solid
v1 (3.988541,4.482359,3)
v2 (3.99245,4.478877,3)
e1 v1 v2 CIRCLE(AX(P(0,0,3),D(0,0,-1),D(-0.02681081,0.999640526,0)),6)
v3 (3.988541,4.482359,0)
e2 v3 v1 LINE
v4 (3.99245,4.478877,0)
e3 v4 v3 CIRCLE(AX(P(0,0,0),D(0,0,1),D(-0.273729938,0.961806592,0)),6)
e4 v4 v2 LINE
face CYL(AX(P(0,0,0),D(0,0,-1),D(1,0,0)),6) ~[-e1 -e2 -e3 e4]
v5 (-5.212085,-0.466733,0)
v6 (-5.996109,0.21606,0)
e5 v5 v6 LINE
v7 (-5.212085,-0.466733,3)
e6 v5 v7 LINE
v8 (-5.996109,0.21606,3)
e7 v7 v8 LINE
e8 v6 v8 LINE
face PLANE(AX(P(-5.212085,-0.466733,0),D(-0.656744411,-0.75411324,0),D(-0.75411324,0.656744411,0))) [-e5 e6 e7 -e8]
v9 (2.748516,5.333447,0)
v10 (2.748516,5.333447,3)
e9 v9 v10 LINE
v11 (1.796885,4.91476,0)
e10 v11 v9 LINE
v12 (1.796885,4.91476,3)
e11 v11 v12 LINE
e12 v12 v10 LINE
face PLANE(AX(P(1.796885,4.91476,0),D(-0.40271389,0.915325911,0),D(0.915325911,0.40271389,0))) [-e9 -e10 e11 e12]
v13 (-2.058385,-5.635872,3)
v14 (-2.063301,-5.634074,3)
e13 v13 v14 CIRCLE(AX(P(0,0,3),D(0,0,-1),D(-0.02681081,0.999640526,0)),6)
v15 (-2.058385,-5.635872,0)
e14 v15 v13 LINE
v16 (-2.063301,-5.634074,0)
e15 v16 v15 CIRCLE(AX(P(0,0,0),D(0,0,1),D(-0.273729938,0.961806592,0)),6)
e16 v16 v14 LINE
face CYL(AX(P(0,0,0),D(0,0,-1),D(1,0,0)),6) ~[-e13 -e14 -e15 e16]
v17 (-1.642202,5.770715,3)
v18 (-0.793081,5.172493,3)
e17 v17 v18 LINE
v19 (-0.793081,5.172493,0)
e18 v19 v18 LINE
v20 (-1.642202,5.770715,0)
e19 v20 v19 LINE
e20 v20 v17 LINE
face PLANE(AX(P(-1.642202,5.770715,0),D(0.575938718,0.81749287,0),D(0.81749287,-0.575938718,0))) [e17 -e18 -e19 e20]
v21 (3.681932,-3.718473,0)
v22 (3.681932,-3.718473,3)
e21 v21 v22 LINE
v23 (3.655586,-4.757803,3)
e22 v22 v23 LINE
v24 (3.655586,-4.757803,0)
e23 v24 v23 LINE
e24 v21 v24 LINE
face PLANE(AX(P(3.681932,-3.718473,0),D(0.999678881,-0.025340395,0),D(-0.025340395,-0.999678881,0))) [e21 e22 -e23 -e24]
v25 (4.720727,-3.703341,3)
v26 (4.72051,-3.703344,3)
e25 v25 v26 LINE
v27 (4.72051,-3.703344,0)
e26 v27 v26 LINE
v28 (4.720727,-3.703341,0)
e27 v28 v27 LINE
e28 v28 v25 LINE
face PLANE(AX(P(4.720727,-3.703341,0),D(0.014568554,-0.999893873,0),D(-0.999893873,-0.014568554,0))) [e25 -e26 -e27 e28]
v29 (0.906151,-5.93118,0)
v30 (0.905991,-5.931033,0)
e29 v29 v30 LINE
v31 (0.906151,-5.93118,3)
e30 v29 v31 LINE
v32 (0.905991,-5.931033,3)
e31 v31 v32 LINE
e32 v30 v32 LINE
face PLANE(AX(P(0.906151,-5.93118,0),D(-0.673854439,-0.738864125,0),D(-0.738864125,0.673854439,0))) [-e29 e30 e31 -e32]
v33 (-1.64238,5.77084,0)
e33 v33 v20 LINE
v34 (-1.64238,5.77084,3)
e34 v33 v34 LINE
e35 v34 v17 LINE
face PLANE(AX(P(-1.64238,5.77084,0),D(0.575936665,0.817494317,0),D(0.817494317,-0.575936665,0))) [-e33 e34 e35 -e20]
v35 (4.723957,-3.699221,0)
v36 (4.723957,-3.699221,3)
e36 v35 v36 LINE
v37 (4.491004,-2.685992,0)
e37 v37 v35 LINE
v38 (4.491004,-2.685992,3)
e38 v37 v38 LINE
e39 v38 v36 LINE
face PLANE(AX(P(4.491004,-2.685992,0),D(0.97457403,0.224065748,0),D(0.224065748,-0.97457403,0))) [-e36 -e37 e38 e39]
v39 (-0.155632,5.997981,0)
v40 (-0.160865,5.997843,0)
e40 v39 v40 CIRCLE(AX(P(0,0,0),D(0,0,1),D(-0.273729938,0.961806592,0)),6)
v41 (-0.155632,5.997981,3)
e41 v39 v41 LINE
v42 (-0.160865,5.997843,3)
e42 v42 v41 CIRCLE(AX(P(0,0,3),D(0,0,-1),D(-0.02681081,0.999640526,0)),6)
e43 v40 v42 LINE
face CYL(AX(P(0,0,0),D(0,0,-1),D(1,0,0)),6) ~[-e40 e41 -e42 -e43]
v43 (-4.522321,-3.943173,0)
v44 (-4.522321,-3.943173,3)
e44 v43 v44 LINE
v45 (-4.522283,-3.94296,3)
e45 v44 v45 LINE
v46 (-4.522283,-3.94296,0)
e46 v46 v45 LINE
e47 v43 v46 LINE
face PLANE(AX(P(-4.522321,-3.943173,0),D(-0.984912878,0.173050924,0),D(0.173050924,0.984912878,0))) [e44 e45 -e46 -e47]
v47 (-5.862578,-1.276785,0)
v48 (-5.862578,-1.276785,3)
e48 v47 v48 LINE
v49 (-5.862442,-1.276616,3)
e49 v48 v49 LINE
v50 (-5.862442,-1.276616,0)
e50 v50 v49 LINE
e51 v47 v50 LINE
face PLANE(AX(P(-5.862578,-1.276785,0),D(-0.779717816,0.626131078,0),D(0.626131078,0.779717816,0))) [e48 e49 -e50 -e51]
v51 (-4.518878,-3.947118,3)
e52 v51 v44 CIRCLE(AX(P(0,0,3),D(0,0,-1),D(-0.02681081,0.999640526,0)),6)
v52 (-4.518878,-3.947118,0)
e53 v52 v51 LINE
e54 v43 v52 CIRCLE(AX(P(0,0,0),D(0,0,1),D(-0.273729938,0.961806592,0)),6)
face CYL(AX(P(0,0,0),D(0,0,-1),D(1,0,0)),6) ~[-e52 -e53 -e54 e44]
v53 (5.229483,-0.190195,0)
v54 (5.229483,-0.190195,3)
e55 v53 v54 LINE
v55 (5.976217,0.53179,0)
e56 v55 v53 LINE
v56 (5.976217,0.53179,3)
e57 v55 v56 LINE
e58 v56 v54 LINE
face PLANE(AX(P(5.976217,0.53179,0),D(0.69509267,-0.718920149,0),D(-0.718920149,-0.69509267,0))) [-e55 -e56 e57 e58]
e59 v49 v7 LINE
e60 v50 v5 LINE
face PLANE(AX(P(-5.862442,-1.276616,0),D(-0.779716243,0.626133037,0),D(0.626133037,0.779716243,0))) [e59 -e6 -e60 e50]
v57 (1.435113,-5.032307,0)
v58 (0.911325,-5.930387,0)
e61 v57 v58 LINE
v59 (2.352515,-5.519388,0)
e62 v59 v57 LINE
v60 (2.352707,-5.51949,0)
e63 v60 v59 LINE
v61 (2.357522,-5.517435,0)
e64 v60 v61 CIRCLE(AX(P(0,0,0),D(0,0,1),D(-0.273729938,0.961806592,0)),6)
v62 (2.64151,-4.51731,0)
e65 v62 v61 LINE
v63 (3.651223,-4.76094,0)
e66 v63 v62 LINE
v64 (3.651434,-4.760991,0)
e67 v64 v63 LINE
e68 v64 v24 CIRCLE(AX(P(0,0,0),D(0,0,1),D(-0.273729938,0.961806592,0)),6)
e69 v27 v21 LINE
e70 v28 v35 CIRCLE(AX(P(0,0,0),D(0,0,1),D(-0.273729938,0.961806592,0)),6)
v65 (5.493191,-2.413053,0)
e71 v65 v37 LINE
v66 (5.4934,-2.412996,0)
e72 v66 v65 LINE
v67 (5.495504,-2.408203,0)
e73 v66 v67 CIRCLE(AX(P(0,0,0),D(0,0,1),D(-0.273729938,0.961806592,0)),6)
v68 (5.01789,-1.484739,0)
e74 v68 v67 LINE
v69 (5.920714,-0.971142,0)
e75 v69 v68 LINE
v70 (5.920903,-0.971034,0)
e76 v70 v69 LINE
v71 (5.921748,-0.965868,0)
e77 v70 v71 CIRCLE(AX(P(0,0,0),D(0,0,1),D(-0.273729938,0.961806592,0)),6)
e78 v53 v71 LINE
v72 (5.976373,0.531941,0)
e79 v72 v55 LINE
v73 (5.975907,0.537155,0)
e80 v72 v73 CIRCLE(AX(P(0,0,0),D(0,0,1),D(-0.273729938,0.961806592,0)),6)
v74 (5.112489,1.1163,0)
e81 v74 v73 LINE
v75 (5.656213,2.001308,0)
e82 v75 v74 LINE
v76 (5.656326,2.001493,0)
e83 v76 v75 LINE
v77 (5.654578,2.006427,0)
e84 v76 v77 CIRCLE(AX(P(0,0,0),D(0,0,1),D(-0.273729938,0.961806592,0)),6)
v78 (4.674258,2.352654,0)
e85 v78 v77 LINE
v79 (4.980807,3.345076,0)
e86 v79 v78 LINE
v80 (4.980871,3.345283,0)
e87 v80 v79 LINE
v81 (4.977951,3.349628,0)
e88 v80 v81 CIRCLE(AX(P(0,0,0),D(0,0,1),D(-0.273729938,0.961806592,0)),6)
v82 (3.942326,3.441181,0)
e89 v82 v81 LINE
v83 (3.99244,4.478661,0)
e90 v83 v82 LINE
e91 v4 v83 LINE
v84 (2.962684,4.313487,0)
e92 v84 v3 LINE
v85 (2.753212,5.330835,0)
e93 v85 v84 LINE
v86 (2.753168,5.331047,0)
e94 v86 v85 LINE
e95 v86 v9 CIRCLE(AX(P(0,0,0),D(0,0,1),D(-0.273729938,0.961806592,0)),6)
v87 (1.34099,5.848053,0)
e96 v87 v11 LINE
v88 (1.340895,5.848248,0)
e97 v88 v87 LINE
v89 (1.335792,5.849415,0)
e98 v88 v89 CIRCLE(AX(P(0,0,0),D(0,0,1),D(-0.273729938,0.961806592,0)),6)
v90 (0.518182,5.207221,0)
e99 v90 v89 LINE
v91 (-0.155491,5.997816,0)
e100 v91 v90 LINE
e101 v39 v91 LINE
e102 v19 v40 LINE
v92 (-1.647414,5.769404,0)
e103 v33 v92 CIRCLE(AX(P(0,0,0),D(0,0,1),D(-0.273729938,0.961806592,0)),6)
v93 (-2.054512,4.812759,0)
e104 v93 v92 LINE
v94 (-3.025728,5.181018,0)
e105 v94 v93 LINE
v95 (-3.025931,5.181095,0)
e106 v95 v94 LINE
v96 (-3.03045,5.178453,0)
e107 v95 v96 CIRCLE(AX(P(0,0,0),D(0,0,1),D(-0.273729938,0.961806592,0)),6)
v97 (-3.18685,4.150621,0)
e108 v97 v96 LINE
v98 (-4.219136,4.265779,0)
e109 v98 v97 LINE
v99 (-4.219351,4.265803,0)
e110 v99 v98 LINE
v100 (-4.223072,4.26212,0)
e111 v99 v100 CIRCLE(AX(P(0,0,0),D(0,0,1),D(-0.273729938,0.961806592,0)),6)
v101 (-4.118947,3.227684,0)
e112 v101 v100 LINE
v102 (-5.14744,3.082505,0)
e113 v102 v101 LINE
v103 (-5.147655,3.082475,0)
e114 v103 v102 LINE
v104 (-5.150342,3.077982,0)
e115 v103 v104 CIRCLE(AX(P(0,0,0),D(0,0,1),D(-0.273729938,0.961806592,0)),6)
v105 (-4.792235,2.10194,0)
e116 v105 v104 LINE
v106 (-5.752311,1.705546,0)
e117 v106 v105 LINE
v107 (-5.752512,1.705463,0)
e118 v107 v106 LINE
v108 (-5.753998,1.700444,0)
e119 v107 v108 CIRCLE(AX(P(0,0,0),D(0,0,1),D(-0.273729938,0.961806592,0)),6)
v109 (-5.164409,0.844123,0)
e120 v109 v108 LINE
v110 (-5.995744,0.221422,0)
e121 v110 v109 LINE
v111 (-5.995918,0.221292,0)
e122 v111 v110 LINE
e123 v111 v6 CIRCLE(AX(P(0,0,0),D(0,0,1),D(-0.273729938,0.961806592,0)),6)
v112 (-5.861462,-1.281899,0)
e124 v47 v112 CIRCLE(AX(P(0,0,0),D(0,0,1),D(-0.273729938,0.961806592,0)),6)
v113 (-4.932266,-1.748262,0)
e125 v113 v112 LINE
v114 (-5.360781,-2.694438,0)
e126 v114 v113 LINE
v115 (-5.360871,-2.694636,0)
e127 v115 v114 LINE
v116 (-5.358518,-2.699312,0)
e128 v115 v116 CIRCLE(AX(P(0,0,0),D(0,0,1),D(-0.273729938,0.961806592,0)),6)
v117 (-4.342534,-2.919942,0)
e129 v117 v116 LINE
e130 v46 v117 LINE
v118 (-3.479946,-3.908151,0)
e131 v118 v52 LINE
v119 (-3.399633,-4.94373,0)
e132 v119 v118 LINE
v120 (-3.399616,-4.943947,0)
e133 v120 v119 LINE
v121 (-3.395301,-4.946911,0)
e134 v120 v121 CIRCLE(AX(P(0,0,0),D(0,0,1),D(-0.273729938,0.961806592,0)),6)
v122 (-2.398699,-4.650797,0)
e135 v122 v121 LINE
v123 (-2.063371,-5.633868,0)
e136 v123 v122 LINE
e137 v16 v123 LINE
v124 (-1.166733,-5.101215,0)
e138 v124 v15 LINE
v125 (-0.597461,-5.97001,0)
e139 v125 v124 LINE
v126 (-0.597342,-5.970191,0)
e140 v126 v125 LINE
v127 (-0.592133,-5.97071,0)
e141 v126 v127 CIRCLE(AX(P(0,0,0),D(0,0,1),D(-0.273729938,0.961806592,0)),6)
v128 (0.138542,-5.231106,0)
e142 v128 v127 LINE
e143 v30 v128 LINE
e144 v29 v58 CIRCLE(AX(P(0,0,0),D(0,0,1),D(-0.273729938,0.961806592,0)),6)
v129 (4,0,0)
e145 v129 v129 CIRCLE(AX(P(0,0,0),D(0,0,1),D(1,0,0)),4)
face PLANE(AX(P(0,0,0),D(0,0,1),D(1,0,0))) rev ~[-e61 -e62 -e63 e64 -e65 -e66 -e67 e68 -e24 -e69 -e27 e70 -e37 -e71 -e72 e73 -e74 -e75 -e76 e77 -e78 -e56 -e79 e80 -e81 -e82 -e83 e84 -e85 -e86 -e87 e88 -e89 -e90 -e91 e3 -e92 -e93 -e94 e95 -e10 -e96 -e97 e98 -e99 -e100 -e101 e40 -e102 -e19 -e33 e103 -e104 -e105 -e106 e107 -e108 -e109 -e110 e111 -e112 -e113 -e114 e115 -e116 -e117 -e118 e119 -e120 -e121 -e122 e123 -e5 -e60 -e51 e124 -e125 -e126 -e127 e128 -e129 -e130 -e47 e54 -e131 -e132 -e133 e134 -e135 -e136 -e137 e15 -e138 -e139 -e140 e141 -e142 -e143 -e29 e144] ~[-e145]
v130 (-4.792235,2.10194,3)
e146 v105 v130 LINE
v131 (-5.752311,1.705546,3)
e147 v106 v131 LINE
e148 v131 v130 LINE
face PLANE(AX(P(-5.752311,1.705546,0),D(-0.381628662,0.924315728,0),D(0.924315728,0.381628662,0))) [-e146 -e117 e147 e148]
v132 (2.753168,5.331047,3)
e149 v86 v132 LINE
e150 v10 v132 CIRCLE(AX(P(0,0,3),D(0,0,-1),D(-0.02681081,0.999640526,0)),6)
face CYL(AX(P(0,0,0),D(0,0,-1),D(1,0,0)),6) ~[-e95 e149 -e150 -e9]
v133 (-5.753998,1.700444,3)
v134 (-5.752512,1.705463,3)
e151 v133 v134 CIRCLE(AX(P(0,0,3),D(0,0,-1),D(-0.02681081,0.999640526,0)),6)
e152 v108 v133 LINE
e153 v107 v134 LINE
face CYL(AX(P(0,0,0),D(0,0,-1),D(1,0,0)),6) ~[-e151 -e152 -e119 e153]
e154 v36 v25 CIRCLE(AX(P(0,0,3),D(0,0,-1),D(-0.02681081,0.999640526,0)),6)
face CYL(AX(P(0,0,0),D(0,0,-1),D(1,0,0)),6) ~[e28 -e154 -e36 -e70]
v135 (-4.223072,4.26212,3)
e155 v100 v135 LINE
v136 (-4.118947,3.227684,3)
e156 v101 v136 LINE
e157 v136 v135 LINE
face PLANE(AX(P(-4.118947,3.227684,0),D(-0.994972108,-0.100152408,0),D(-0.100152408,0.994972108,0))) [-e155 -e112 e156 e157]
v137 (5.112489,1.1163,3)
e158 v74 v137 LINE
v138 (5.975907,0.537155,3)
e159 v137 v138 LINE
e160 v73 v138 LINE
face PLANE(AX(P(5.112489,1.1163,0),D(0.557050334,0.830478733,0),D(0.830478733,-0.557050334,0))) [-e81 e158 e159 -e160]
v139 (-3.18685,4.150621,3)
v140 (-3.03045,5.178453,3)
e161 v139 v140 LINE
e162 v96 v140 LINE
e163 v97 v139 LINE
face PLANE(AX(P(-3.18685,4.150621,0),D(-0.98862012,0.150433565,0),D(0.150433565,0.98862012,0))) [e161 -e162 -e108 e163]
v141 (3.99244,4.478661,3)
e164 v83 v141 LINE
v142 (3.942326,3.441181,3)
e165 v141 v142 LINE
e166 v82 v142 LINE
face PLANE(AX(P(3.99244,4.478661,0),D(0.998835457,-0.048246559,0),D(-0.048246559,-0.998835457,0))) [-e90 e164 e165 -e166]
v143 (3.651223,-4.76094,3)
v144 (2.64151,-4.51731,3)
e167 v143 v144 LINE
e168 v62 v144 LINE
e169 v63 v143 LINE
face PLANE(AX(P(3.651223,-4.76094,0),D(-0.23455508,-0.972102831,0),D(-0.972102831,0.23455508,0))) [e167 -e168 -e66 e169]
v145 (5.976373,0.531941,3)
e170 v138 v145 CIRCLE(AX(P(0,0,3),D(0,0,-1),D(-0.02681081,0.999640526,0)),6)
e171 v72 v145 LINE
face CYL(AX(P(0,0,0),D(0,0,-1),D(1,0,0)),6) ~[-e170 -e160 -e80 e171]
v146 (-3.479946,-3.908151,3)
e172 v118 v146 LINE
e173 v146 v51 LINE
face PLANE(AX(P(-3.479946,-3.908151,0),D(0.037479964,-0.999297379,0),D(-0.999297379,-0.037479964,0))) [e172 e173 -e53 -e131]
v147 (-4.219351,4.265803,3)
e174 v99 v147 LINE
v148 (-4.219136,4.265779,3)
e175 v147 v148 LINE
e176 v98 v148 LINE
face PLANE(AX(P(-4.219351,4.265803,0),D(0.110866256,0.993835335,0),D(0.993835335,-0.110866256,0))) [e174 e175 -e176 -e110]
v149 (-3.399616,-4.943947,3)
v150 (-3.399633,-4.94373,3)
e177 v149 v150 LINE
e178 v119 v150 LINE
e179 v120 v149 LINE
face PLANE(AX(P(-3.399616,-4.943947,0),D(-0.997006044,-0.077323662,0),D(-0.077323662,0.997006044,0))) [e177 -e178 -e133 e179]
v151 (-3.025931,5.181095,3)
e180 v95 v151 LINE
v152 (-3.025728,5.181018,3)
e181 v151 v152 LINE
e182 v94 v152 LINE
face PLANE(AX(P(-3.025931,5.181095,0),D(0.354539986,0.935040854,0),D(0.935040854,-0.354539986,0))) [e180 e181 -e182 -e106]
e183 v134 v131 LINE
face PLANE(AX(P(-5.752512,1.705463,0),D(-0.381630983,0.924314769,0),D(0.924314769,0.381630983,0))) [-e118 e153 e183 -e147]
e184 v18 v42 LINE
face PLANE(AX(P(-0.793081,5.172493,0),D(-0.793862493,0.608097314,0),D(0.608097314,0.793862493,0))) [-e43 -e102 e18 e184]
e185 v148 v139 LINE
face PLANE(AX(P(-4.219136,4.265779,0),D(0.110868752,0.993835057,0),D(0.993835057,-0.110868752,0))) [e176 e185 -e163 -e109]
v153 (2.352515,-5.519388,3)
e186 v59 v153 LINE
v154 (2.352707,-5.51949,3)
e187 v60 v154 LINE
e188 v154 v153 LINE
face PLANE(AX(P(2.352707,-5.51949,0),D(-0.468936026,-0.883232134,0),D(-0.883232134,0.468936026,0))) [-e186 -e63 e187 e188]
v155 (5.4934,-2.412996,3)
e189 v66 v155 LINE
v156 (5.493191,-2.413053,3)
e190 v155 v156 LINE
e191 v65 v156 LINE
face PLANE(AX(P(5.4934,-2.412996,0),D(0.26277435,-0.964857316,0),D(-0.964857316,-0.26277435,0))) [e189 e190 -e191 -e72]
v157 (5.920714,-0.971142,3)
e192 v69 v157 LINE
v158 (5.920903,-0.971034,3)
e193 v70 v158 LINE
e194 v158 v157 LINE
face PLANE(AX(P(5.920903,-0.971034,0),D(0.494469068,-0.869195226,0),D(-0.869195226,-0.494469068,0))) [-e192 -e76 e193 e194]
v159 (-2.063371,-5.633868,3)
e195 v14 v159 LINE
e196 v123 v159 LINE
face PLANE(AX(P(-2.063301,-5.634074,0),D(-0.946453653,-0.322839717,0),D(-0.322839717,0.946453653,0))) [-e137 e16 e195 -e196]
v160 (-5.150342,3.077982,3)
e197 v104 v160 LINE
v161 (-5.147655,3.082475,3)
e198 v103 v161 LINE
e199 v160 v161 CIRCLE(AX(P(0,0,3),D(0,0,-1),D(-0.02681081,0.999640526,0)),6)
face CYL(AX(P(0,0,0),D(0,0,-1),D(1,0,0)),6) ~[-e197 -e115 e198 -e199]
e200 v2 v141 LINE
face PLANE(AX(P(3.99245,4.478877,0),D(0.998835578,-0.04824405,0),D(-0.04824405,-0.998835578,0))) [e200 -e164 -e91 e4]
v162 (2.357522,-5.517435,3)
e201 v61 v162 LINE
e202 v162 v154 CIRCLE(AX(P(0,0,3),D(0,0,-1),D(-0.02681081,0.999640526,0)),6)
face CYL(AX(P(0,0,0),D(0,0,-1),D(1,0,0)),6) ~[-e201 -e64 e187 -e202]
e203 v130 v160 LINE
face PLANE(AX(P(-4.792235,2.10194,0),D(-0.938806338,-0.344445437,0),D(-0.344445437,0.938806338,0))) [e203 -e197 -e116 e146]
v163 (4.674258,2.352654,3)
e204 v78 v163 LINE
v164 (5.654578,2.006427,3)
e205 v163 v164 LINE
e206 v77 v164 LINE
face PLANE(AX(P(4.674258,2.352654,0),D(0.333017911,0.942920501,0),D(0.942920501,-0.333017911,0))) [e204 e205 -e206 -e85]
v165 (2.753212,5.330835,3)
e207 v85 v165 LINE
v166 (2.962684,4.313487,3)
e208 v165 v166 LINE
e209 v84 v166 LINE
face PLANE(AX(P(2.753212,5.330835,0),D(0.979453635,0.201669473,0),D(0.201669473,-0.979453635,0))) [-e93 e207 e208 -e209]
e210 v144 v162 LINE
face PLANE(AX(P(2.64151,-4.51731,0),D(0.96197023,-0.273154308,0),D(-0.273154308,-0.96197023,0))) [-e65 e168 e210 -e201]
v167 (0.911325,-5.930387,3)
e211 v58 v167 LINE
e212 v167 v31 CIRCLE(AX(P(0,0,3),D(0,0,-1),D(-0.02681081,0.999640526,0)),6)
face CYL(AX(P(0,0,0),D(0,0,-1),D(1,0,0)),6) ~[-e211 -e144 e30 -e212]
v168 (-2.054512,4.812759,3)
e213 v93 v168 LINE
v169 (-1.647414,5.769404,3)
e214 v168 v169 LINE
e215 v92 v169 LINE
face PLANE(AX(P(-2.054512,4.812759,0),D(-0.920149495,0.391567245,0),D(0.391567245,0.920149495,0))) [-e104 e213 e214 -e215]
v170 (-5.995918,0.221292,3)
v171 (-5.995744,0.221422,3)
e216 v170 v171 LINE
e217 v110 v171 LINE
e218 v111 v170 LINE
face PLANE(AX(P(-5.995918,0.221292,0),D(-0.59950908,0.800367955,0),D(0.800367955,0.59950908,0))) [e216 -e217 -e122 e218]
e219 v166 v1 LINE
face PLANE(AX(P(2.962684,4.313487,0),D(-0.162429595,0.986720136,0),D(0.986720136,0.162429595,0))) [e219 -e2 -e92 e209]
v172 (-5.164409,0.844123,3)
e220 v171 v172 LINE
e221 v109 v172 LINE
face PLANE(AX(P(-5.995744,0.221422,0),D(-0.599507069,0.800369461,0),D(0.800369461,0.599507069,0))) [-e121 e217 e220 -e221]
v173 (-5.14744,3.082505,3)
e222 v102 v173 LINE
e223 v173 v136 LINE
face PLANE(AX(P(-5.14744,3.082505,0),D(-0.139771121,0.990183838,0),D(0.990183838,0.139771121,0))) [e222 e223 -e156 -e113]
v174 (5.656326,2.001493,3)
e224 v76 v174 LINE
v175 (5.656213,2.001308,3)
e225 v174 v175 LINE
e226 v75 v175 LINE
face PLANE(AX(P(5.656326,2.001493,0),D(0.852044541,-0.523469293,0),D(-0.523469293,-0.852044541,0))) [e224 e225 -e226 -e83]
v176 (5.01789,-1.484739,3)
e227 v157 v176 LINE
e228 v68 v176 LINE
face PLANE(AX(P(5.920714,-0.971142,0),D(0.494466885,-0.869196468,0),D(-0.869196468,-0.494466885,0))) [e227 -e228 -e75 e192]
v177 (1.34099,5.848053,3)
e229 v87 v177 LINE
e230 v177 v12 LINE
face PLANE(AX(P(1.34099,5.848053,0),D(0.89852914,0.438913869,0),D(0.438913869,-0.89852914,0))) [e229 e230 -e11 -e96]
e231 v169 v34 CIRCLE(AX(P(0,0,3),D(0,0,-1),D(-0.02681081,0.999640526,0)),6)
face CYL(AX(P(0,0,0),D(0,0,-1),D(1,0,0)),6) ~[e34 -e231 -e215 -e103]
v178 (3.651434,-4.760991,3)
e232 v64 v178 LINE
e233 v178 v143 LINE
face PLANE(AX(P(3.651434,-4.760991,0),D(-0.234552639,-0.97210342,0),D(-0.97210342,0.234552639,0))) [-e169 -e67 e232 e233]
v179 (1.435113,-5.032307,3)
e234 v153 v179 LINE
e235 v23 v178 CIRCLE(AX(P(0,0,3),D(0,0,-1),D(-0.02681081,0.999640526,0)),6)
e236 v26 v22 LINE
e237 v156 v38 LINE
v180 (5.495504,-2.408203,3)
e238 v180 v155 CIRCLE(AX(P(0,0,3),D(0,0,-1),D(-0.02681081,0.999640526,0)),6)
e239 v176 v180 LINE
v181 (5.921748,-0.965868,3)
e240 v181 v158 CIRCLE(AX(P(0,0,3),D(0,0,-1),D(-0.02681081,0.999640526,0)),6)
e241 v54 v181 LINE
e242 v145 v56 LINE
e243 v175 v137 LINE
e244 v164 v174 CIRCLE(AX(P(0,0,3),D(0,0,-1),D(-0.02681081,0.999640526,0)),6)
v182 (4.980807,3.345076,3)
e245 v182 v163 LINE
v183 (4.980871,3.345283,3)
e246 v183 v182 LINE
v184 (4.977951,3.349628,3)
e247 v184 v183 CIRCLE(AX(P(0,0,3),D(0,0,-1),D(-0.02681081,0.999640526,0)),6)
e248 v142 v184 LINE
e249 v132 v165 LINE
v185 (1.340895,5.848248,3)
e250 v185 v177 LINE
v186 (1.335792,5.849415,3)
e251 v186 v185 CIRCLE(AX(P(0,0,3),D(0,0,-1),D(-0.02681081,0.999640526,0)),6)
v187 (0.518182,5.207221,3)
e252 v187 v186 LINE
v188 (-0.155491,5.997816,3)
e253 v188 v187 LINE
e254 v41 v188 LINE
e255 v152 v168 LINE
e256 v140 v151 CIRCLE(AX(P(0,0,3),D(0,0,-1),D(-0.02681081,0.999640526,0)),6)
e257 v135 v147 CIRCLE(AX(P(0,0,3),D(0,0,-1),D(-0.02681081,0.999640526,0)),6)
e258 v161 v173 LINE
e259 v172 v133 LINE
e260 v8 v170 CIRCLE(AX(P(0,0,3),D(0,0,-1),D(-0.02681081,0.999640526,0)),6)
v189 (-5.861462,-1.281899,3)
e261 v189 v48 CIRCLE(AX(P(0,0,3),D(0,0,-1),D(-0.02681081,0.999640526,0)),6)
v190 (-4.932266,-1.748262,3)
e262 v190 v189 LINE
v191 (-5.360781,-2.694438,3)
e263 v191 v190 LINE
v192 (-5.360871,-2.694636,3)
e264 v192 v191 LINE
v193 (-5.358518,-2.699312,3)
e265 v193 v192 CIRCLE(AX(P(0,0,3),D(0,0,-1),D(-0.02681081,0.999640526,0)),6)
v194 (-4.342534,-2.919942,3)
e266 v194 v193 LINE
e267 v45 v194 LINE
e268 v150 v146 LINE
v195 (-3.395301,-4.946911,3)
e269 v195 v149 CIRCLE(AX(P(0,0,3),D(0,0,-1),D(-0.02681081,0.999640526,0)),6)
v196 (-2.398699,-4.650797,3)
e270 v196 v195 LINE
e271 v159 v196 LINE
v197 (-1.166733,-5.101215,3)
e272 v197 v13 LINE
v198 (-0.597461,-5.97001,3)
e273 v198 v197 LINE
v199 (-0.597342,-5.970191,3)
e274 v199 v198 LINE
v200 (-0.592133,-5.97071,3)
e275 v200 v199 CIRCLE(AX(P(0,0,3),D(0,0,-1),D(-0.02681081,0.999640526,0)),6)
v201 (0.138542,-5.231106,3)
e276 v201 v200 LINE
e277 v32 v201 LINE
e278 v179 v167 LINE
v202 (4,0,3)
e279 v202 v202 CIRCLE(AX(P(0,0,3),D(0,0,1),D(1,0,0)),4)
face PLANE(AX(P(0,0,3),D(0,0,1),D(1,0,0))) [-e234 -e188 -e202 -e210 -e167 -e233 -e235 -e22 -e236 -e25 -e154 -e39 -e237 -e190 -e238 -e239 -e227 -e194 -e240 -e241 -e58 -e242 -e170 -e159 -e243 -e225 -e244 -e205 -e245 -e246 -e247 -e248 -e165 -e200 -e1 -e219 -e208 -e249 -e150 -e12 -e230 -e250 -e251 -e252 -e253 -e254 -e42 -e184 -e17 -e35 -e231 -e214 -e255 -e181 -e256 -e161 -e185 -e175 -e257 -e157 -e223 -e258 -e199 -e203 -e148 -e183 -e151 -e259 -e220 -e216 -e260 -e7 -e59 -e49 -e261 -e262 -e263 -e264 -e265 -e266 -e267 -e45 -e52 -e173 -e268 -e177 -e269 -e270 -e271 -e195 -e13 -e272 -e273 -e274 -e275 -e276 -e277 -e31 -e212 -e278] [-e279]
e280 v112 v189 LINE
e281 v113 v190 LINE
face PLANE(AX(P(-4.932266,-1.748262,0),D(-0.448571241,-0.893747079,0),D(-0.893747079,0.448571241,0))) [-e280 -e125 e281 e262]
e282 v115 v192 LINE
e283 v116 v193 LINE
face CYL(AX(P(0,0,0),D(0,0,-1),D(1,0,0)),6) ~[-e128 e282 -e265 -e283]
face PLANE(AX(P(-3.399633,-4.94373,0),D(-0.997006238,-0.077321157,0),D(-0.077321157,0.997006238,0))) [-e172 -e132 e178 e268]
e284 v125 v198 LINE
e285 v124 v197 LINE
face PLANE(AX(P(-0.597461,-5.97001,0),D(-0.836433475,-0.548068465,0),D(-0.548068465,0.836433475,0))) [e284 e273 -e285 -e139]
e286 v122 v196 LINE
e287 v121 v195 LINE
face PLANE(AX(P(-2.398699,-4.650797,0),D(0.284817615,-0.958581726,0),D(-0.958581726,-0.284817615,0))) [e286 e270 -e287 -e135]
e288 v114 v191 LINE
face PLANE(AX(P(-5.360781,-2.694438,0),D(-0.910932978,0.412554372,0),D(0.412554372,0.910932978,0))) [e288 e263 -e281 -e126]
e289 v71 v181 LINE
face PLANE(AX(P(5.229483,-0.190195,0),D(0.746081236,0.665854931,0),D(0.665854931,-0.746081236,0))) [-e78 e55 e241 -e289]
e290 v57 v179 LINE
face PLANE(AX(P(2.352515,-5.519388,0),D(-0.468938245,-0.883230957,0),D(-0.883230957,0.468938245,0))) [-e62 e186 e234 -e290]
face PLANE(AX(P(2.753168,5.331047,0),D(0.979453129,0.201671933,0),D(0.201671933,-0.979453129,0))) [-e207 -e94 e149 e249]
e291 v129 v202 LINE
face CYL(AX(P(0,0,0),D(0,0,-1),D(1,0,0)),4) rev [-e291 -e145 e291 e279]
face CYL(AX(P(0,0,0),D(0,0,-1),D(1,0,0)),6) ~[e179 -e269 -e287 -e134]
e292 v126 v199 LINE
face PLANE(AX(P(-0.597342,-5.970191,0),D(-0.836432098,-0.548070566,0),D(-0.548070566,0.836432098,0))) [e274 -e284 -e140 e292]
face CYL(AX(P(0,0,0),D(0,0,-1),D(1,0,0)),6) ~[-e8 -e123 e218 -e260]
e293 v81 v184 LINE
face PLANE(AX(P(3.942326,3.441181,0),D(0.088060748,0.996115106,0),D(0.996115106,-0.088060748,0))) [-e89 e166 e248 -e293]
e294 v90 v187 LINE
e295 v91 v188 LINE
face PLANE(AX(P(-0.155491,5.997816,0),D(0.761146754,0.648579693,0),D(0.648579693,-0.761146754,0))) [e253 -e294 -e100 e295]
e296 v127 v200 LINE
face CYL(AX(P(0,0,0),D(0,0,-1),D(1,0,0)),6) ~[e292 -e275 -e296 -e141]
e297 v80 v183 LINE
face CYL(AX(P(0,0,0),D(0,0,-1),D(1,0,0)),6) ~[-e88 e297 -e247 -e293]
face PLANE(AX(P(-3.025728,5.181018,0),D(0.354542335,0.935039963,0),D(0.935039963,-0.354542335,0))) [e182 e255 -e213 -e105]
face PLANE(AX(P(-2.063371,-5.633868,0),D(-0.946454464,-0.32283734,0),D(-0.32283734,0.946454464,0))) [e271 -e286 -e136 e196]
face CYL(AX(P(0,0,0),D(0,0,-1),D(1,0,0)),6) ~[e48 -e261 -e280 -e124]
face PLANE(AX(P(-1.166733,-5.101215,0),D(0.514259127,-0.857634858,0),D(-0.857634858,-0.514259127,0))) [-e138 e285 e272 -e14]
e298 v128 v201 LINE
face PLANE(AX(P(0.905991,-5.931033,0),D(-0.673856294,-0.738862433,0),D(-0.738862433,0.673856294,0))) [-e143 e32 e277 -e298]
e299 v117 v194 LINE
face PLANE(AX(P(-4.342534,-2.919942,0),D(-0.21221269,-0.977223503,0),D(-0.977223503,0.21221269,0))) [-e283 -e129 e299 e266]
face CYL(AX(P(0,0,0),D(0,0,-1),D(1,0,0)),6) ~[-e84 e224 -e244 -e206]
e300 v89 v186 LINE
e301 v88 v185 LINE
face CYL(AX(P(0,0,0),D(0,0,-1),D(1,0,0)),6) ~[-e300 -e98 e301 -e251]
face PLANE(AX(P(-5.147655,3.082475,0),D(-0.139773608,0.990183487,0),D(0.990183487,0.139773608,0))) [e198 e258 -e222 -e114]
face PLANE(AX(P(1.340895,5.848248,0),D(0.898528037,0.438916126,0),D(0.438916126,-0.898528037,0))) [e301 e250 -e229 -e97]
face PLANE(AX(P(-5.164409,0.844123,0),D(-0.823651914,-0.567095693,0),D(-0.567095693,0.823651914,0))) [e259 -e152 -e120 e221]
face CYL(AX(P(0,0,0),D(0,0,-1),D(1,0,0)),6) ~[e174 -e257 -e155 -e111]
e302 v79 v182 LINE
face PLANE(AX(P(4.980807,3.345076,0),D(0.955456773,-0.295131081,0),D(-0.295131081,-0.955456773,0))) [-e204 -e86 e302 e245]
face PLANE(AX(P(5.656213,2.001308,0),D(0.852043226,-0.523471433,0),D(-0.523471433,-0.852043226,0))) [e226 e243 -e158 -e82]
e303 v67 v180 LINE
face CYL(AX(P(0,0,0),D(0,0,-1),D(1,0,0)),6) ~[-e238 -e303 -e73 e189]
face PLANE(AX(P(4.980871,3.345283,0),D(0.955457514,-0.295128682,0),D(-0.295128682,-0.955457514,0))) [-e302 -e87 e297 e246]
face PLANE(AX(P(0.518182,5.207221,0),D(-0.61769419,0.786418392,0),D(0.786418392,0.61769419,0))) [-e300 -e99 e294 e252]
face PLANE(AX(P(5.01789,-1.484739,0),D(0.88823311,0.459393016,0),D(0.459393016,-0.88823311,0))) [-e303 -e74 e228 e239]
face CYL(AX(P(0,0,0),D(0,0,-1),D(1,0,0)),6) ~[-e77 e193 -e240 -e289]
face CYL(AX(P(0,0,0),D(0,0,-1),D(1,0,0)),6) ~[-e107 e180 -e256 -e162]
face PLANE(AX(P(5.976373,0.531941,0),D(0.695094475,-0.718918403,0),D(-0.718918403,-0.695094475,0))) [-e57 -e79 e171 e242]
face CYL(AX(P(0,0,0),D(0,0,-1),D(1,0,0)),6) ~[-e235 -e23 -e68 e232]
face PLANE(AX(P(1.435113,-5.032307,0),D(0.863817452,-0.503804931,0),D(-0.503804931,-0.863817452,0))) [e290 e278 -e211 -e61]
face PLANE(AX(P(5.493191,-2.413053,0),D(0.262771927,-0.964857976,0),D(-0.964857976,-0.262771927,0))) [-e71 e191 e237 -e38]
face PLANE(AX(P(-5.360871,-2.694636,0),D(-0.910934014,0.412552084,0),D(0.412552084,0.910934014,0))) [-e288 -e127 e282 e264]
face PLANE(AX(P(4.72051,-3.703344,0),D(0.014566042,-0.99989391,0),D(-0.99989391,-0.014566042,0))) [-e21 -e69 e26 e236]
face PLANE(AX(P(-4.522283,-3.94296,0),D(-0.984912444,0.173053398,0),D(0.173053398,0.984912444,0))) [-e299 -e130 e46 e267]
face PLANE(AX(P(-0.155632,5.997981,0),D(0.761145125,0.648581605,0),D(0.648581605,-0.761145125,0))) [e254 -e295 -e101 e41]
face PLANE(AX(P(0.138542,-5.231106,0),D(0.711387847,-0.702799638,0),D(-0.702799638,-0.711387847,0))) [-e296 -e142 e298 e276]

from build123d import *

# Parameters (mm, degrees)
ESQUISSE1_R                  = 6
ESQUISSE1_R_2                = 4
BOSS_EXTRU_1_DEPTH           = 3
ENL_V_START                  = -3
ENL_V_MAT_EXTRU_1_DEPTH      = 3
R_P_TITION_CIRCULAIRE1_COUNT = 25


with BuildPart() as part:
    # Esquisse1 → Boss.-Extru.1 (new body)
    with BuildSketch(Plane.XY):
        Circle(ESQUISSE1_R)
        Circle(ESQUISSE1_R_2, mode=Mode.SUBTRACT)
    extrude(amount=BOSS_EXTRU_1_DEPTH)

    # Esquisse2 → Enlèv. mat.-Extru.1 (cut)
    with BuildSketch(Plane.XY.offset(3).offset(ENL_V_START)):
        with BuildLine():
            Line((-1.642379627, 5.770839554), (-1.642202224, 5.770714571))
            Line((-1.642202224, 5.770714571), (-0.793081387, 5.17249337))
            Line((-0.793081387, 5.17249337), (-0.160864862, 5.997843154))
            ThreePointArc((-0.160864862, 5.997843154), (-0.908738318, 5.930783647), (-1.642379627, 5.770839554))
        make_face()
    enl_v_mat_extru_1 = extrude(amount=ENL_V_MAT_EXTRU_1_DEPTH, mode=Mode.SUBTRACT)

    # Répétition circulaire1: Enlèv. mat.-Extru.1 ×25 about axis
    r_p_tition_circulaire1_axis = Axis((0, 0, 0), (0, 0, 1))
    for i in range(1, R_P_TITION_CIRCULAIRE1_COUNT):
        add(enl_v_mat_extru_1.rotate(r_p_tition_circulaire1_axis, i * 360 / R_P_TITION_CIRCULAIRE1_COUNT), mode=Mode.SUBTRACT)


solid = part.part
